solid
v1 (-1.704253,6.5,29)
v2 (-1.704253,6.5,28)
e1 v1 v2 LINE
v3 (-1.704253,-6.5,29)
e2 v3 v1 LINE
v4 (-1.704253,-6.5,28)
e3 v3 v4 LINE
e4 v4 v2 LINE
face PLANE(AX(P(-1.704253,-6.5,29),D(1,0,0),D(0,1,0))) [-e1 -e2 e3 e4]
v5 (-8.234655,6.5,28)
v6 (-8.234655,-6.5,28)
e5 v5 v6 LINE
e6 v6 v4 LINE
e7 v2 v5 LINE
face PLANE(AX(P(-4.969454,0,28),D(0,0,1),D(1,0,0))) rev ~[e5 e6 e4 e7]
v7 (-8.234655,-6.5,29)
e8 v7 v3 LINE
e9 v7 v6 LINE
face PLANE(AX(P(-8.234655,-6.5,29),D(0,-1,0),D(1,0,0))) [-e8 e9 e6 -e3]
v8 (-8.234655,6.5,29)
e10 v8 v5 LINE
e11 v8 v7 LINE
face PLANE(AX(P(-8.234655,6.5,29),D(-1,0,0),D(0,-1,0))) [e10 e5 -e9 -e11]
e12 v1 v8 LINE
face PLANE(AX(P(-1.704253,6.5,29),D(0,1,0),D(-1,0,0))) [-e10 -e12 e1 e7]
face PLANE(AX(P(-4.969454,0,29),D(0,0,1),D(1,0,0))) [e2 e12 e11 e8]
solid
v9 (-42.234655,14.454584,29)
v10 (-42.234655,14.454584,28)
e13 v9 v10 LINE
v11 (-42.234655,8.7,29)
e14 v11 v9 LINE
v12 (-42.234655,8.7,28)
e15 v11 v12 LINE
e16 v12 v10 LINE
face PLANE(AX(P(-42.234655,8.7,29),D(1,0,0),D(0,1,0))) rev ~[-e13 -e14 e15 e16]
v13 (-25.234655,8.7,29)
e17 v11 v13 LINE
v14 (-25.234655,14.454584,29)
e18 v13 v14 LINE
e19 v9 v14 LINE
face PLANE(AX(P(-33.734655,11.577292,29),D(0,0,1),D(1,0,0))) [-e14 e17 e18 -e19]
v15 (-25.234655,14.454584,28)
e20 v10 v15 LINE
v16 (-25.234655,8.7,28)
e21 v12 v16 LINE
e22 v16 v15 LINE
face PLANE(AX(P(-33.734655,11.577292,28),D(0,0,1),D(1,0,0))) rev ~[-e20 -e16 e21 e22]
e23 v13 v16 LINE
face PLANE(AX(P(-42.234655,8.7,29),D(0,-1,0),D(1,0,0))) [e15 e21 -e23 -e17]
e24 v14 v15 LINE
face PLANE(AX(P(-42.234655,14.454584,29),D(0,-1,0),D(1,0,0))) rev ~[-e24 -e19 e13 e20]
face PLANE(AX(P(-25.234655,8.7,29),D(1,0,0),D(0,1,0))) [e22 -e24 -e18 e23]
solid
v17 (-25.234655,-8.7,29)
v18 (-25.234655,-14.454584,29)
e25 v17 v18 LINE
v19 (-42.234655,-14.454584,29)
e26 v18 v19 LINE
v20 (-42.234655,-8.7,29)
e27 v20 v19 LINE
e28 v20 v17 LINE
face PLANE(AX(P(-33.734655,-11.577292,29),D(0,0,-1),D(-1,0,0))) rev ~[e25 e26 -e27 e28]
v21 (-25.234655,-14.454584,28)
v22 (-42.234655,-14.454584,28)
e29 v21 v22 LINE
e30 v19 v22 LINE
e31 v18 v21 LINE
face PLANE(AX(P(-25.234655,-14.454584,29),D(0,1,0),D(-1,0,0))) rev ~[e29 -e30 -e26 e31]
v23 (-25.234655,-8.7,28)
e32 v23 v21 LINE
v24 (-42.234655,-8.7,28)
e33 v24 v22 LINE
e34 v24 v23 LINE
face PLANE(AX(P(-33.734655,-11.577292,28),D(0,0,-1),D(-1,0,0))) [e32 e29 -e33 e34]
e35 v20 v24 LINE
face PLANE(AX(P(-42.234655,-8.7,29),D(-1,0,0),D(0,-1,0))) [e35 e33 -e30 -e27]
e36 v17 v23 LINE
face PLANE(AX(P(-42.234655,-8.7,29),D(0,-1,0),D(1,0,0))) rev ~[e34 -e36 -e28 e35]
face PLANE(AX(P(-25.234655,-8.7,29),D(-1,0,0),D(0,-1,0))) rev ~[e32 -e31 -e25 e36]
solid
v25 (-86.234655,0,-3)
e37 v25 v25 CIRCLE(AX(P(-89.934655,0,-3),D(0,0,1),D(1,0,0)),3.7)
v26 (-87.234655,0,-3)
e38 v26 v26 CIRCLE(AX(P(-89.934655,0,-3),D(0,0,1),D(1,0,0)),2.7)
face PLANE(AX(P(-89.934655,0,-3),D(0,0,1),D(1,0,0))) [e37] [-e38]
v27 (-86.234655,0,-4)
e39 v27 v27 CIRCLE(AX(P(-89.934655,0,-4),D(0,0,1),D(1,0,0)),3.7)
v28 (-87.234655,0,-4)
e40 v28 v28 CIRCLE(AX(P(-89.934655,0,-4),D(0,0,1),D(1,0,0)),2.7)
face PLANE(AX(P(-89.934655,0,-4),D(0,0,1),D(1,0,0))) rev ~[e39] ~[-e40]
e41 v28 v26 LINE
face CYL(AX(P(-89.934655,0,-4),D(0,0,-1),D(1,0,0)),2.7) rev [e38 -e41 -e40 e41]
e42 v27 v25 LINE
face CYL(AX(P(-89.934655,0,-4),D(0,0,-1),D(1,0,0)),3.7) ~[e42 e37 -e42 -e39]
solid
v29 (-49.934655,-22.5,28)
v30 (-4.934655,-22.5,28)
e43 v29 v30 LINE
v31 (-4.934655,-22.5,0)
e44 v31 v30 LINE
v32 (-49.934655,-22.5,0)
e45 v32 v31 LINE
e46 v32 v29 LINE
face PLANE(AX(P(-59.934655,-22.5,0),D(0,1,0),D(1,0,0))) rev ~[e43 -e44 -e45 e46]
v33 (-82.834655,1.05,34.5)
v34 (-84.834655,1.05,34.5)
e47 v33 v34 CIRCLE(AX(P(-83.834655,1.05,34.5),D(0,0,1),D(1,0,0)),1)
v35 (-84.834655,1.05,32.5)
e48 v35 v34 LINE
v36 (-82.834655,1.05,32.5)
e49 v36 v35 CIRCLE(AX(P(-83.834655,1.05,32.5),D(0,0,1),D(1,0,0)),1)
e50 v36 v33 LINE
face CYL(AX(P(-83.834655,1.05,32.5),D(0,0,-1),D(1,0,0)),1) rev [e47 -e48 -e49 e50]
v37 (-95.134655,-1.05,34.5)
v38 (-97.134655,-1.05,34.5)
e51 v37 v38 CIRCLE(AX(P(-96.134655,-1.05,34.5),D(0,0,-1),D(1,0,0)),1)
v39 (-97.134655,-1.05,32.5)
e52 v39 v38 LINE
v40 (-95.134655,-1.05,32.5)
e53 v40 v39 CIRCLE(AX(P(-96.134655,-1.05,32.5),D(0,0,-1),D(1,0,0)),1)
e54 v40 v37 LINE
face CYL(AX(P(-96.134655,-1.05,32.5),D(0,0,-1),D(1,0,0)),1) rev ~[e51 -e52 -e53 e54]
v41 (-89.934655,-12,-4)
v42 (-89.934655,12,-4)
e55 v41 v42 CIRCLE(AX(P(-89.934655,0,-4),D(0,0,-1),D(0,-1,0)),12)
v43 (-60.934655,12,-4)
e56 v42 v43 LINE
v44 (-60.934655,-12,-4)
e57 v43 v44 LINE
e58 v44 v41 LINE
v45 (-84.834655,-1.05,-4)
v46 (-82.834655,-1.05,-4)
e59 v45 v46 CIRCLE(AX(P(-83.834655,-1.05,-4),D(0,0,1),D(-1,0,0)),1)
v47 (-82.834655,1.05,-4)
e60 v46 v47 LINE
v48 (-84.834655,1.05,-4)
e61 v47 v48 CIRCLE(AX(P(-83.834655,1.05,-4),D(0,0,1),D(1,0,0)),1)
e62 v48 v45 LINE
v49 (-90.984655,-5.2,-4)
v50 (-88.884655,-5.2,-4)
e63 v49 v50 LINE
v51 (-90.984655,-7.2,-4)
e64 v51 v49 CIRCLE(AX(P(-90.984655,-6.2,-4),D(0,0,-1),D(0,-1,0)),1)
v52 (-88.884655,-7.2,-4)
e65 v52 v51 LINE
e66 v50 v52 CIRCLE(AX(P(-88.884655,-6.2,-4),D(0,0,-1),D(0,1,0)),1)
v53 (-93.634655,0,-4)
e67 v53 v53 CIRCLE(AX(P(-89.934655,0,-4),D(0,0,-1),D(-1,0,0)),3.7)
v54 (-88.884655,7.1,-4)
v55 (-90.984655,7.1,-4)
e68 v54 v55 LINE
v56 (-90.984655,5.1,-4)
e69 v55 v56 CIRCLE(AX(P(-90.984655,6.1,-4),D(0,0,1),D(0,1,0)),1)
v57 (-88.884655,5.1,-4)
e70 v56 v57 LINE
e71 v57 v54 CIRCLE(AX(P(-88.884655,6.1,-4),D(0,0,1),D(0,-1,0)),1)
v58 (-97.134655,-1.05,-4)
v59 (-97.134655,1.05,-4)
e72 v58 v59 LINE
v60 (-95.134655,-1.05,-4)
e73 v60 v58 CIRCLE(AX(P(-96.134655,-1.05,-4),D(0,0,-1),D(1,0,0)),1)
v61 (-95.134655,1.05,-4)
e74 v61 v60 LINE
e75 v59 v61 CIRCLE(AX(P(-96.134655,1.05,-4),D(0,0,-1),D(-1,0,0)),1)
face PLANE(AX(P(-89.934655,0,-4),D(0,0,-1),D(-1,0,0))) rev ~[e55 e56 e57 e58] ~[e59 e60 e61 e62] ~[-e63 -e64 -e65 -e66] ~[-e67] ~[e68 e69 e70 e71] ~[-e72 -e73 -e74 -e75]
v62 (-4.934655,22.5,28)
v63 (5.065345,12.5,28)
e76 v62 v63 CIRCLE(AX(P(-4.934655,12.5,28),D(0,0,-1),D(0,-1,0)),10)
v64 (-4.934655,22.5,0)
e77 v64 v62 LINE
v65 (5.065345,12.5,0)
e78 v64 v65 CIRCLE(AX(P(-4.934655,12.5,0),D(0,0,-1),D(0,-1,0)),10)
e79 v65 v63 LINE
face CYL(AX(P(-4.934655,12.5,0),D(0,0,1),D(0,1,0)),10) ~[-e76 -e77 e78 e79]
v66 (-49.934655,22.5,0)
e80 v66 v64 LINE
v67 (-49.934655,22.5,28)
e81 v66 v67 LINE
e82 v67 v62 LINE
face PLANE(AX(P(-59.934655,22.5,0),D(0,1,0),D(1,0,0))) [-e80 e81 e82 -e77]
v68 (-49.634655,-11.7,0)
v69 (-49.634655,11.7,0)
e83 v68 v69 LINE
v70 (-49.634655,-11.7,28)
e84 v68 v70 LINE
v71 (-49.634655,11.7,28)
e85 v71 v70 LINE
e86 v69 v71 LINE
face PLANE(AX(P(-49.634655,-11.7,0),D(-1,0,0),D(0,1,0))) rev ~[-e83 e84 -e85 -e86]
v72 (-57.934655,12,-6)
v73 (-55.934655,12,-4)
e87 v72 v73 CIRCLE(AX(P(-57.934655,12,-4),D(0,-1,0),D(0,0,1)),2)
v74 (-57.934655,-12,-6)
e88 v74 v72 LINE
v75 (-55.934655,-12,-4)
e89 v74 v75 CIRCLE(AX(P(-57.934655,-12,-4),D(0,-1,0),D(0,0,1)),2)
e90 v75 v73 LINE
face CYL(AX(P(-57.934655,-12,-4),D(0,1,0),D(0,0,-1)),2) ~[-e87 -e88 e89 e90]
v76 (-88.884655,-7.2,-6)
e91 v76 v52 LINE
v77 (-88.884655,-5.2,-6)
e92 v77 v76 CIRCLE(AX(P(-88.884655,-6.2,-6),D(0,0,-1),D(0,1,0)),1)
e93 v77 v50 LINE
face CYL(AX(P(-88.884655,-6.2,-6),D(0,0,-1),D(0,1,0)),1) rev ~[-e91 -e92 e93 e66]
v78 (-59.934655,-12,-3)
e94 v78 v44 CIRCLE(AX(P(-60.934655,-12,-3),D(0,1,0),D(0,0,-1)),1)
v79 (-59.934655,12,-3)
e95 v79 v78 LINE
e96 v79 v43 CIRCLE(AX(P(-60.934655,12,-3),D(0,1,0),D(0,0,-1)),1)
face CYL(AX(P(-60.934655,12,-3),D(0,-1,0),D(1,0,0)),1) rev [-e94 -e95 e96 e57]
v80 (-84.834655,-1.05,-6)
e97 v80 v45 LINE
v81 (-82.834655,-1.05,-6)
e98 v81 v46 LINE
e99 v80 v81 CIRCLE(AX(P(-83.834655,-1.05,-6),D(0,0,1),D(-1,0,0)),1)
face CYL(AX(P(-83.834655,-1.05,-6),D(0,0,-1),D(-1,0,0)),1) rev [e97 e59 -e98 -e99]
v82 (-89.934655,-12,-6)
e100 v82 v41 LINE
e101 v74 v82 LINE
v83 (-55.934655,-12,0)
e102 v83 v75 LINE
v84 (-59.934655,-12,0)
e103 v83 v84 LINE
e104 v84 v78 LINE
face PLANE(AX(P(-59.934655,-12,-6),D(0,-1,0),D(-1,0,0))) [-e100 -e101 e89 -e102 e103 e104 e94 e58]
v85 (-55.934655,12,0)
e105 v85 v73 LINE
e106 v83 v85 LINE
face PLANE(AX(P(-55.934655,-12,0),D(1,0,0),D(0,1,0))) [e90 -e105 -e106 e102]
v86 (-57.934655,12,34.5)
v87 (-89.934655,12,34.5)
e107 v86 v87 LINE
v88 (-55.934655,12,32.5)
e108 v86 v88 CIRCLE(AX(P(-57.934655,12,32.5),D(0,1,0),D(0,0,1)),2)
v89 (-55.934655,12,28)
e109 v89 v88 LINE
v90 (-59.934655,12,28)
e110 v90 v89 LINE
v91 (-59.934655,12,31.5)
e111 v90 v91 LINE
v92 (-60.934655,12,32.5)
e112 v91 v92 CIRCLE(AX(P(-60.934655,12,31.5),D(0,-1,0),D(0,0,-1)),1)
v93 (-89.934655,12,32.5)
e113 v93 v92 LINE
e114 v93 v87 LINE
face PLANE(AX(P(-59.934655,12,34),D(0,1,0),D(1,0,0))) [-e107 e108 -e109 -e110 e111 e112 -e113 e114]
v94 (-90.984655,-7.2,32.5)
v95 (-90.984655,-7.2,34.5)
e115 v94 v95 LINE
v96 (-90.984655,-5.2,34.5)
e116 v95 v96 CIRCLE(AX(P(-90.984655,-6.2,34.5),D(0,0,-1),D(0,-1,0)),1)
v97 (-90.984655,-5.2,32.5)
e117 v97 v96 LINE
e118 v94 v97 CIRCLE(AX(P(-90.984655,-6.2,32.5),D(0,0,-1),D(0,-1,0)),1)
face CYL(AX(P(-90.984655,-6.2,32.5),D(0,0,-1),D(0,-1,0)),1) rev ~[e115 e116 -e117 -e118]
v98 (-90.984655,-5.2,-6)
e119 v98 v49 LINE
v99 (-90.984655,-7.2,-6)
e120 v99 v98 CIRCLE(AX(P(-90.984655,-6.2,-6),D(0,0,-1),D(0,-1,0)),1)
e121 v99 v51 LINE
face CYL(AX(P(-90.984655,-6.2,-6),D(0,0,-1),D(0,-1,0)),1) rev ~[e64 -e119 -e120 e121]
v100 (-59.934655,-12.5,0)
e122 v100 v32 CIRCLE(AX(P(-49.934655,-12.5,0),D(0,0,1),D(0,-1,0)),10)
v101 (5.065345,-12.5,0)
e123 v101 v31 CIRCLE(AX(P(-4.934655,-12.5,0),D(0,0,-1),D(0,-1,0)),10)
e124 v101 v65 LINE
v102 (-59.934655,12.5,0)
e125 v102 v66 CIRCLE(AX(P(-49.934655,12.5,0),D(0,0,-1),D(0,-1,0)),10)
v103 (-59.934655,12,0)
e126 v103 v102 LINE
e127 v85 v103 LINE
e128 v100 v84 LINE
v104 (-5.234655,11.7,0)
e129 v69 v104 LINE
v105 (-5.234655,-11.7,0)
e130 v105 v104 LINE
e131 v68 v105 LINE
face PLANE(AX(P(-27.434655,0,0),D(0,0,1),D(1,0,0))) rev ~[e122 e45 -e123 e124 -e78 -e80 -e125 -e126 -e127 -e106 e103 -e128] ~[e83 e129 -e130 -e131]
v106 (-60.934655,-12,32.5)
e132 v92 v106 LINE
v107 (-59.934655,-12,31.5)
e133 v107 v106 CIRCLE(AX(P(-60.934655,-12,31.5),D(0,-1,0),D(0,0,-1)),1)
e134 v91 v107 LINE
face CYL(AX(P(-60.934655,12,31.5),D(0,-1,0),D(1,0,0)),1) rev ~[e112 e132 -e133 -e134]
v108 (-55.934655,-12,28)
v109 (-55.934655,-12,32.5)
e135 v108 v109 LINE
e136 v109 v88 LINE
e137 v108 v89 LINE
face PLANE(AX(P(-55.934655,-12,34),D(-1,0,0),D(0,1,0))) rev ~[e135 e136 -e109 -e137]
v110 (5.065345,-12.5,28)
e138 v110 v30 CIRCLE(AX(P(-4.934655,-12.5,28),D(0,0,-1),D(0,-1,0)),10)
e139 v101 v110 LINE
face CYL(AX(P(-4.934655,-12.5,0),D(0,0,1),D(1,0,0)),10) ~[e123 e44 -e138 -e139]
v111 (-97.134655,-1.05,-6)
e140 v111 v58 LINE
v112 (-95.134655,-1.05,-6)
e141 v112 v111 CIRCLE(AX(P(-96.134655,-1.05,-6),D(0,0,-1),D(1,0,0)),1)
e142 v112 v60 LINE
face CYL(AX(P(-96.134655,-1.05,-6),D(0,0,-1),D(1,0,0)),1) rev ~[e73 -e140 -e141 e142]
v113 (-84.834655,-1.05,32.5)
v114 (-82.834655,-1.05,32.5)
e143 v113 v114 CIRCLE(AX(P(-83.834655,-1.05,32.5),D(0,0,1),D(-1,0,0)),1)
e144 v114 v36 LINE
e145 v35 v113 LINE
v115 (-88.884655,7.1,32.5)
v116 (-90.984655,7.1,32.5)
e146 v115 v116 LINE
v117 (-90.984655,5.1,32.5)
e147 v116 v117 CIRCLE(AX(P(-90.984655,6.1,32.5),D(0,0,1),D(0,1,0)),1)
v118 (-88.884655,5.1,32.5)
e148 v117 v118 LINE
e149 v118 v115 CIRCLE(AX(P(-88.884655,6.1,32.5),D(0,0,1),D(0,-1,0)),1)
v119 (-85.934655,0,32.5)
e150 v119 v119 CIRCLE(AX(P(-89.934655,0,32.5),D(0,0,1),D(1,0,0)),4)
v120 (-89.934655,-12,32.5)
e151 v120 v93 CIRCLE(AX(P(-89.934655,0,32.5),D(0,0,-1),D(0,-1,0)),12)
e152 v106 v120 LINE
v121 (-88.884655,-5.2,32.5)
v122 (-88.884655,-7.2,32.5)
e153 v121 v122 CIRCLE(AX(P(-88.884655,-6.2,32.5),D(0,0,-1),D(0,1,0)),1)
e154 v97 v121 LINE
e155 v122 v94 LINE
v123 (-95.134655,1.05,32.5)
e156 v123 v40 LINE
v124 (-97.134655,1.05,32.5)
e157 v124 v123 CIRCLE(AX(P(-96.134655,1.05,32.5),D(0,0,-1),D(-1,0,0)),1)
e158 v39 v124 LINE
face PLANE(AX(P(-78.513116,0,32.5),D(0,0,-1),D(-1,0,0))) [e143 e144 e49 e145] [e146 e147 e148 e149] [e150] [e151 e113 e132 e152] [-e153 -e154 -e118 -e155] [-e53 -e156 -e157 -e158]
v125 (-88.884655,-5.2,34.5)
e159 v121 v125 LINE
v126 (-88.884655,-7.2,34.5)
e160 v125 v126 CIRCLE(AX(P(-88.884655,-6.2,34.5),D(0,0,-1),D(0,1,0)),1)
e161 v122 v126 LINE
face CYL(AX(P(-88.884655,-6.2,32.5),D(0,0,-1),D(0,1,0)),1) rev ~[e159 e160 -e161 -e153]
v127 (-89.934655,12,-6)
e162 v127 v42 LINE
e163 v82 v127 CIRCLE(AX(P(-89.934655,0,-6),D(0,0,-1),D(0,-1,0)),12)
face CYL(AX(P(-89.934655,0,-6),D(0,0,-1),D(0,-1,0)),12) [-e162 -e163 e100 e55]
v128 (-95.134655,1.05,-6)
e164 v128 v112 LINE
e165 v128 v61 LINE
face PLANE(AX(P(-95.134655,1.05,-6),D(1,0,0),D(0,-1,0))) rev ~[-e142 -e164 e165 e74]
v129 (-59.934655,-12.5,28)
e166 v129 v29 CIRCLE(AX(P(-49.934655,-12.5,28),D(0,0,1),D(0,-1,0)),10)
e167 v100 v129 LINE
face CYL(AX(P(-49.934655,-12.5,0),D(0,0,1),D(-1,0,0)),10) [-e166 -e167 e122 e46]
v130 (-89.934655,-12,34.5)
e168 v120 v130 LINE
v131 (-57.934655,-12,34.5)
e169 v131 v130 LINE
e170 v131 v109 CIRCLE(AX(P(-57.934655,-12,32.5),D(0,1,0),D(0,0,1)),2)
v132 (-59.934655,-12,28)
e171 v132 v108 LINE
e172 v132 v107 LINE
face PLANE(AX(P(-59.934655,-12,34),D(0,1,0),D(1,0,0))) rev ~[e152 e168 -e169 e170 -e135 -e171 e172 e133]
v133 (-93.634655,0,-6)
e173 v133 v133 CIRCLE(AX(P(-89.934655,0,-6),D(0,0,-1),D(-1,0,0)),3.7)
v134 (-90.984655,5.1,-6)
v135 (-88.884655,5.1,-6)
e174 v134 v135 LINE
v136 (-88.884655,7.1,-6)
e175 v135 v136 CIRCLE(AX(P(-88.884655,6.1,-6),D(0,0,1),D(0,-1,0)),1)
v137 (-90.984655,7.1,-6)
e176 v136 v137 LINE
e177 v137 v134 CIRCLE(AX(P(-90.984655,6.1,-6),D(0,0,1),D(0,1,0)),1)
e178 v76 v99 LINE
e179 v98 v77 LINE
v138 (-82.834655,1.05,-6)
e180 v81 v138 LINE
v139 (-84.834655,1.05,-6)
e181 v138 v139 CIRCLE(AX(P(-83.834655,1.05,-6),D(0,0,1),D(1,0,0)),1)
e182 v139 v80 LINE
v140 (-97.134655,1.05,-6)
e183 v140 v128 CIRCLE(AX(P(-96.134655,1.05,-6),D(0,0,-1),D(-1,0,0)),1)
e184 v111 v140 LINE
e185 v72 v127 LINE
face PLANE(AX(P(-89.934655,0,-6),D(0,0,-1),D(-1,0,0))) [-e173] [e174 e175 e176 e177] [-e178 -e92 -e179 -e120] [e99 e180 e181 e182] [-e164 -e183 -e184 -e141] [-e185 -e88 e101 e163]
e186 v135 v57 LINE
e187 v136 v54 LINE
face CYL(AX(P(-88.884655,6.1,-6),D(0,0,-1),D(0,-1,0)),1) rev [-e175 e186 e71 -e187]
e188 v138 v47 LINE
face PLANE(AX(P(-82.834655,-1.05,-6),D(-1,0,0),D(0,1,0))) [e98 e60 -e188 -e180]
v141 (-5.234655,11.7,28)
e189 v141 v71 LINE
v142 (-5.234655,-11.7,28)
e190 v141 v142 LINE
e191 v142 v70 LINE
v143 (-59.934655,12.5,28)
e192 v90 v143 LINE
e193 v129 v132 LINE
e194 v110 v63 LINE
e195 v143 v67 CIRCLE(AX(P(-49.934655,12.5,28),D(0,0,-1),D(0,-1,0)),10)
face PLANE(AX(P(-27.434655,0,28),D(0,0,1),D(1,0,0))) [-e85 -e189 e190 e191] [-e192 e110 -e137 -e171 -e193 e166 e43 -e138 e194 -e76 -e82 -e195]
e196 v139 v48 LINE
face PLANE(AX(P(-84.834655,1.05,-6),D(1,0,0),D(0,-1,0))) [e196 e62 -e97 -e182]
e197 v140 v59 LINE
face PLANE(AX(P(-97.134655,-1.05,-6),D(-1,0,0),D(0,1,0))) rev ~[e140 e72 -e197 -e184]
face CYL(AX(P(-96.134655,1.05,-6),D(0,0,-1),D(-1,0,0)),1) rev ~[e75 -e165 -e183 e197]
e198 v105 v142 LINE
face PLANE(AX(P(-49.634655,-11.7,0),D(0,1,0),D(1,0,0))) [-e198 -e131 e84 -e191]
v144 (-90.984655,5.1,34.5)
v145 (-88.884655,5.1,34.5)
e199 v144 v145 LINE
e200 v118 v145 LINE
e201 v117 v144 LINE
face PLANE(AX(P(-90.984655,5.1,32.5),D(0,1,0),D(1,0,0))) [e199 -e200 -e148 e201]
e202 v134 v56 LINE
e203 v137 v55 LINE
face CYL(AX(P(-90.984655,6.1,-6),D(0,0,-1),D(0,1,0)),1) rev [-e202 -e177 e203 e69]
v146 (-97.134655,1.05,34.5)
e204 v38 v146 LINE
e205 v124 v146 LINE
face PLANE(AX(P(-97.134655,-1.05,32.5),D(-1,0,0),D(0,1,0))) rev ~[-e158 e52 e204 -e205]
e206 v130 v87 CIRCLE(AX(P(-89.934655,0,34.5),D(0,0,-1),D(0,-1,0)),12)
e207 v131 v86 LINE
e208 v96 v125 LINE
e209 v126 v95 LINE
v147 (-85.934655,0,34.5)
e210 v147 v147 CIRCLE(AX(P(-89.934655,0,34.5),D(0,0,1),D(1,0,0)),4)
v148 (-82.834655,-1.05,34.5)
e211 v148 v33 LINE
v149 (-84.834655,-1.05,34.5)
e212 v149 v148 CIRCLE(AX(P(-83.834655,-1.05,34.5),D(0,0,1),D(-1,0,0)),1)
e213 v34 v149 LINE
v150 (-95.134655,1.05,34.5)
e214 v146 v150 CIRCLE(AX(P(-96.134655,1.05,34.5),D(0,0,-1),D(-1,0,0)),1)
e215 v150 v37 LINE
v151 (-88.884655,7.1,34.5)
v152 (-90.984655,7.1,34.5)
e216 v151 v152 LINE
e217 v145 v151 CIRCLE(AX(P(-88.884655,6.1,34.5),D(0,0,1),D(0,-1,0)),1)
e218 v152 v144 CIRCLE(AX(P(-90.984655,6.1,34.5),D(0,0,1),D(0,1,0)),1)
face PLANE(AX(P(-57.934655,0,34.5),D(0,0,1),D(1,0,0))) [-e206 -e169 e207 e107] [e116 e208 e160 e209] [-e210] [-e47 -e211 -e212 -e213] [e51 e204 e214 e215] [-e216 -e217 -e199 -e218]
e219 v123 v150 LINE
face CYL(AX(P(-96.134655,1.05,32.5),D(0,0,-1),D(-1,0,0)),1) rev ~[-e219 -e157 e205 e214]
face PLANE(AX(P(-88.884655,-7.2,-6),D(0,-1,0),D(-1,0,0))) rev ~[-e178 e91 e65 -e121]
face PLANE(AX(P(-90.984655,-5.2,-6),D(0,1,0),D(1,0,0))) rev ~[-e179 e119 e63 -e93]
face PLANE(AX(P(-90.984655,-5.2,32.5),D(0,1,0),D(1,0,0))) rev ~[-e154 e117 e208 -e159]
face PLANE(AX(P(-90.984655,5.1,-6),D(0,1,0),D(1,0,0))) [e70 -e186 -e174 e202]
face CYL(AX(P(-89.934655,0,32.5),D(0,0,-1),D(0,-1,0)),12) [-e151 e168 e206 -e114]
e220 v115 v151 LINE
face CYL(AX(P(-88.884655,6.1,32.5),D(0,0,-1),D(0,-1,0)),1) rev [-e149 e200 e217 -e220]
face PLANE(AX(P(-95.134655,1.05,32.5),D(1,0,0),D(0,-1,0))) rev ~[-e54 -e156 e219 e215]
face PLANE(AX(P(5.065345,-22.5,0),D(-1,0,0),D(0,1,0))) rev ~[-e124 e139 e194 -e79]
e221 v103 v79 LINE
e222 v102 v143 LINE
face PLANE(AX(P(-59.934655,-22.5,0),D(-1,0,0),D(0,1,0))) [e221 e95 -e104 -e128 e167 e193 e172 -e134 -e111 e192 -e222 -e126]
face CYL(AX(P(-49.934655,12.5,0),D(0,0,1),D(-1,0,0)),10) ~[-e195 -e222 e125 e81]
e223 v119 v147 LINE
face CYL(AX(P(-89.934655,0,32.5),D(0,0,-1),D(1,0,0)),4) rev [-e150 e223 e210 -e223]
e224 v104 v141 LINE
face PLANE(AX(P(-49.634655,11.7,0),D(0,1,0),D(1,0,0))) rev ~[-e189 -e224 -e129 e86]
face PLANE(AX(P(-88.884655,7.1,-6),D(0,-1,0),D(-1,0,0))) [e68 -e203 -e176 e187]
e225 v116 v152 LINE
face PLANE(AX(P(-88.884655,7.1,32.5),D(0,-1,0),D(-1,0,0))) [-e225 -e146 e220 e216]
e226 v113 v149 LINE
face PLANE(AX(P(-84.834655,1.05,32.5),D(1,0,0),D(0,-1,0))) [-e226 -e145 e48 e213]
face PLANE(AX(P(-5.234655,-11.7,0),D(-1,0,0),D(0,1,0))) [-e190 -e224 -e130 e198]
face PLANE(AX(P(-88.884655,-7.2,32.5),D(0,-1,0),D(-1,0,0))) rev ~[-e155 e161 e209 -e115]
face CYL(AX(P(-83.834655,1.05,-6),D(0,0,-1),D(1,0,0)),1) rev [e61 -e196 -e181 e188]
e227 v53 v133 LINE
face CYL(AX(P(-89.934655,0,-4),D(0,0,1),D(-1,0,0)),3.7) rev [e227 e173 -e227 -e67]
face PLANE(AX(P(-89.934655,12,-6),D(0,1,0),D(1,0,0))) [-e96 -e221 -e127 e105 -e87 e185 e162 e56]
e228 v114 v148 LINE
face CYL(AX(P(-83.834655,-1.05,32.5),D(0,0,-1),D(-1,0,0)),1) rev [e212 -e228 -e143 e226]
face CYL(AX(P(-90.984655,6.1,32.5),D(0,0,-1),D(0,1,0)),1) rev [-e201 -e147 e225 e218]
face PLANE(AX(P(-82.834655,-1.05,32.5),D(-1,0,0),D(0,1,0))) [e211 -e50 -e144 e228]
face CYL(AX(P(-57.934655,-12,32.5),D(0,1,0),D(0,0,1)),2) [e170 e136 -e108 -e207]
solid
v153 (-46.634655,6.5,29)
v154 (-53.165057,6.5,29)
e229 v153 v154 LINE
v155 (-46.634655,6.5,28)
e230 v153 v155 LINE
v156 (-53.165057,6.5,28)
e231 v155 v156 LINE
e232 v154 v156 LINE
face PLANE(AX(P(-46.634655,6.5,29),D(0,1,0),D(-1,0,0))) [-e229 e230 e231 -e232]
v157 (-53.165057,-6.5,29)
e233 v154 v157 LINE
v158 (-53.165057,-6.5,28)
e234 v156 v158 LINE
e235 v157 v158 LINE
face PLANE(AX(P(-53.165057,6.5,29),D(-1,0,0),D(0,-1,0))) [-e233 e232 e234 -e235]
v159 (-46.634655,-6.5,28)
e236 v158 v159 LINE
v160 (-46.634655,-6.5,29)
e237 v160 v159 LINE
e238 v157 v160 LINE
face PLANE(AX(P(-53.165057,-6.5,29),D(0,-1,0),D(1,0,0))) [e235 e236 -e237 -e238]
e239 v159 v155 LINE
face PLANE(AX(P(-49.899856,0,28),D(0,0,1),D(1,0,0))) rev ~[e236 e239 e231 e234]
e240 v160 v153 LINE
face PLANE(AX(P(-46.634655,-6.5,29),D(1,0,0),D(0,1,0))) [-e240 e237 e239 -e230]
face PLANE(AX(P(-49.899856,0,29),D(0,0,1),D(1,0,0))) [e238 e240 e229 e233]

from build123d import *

# Parameters (mm, degrees)
SKETCH_1_W             = 65
SKETCH_1_H             = 45
EXTRUDE_1_DEPTH        = 28
SKETCH_2_W             = 44.4
SKETCH_2_H             = 23.4
CUT_EXTRUDE_1_DEPTH    = 39
SKETCH_3_W             = 4
SKETCH_3_H             = 24
EXTRUDE_2_DEPTH        = 6
EXTRUDE_START          = -0.5
SKETCH_7_R             = 4
EXTRUDE_3_DEPTH        = 2
SKETCH_8_W             = 4
SKETCH_8_H             = 24
EXTRUDE_4_DEPTH        = 6
FILLET_1_R             = 10
FILLET_2_R             = 10
FILLET_3_R             = 10
FILLET_4_R             = 10
PATTERN_LINEAR_2_COUNT = 2
PATTERN_LINEAR_2_PITCH = 38.5
FILLET_5_R             = 2
SKETCH_9_R             = 3.7
SKETCH_9_R_2           = 2.7
EXTRUDE_5_DEPTH        = 1
EXTRUDE_6_DEPTH        = 1
EXTRUDE_6_2_DEPTH      = 1
EXTRUDE_6_3_DEPTH      = 1
SKETCH_10_W            = 17
SKETCH_10_H            = 5.754584259
EXTRUDE_6_4_DEPTH      = 1
SKETCH_12_R            = 4
SKETCH_12_R_2          = 3.7
EXTRUDE_8_DEPTH        = 2
SKETCH_15_W            = 4
SKETCH_15_H            = 24
EXTRUDE_10_DEPTH       = 0.5
FILLET_16_R            = 2
FILLET_17_R            = 1
FILLET_18_R            = 1


with BuildPart() as part:
    # 草圖1 → 填料-伸長1 (new body)
    with BuildSketch(Plane.XY):
        with Locations((-27.434655272, 0)):
            Rectangle(SKETCH_1_W, SKETCH_1_H)
    extrude(amount=EXTRUDE_1_DEPTH)

    # 草圖2 → 除料-伸長1 (cut)
    with BuildSketch(Plane.XY):
        with Locations((-27.434655272, 0)):
            Rectangle(SKETCH_2_W, SKETCH_2_H)
    extrude(amount=CUT_EXTRUDE_1_DEPTH, mode=Mode.SUBTRACT)

    # 草圖3 → 填料-伸長2 (add)
    with BuildSketch(Plane.XY.offset(28)):
        with Locations((-57.934655272, 0)):
            Rectangle(SKETCH_3_W, SKETCH_3_H)
    extrude(amount=EXTRUDE_2_DEPTH)

    # 草圖7 → 填料-伸長3 (add)
    with BuildSketch(Plane.XY.offset(33).offset(EXTRUDE_START)):
        with BuildLine():
            Line((-59.934655272, 12), (-59.934655272, -12))
            Line((-59.934655272, -12), (-89.934655272, -12))
            ThreePointArc((-89.934655272, -12), (-101.934655272, 0), (-89.934655272, 12))
            Line((-89.934655272, 12), (-59.934655272, 12))
        make_face()
        with Locations((-89.934655272, 0)):
            Circle(SKETCH_7_R, mode=Mode.SUBTRACT)
        with BuildLine():
            Line((-95.134655272, 1.05), (-95.134655272, -1.05))
            ThreePointArc((-95.134655272, -1.05), (-96.134655272, -2.05), (-97.134655272, -1.05))
            Line((-97.134655272, -1.05), (-97.134655272, 1.05))
            ThreePointArc((-97.134655272, 1.05), (-96.134655272, 2.05), (-95.134655272, 1.05))
        make_face(mode=Mode.SUBTRACT)
        with BuildLine():
            Line((-90.984655272, -5.2), (-88.884655272, -5.2))
            ThreePointArc((-88.884655272, -5.2), (-87.884655272, -6.2), (-88.884655272, -7.2))
            Line((-88.884655272, -7.2), (-90.984655272, -7.2))
            ThreePointArc((-90.984655272, -7.2), (-91.984655272, -6.2), (-90.984655272, -5.2))
        make_face(mode=Mode.SUBTRACT)
        with BuildLine():
            Line((-90.984655272, 5.1), (-88.884655272, 5.1))
            ThreePointArc((-88.884655272, 5.1), (-87.884655272, 6.1), (-88.884655272, 7.1))
            Line((-88.884655272, 7.1), (-90.984655272, 7.1))
            ThreePointArc((-90.984655272, 7.1), (-91.984655272, 6.1), (-90.984655272, 5.1))
        make_face(mode=Mode.SUBTRACT)
        with BuildLine():
            Line((-84.834655272, 1.05), (-84.834655272, -1.05))
            ThreePointArc((-84.834655272, -1.05), (-83.834655272, -2.05), (-82.834655272, -1.05))
            Line((-82.834655272, -1.05), (-82.834655272, 1.05))
            ThreePointArc((-82.834655272, 1.05), (-83.834655272, 2.05), (-84.834655272, 1.05))
        make_face(mode=Mode.SUBTRACT)
    extrude_3 = extrude(amount=EXTRUDE_3_DEPTH)

    # 草圖8 → 填料-伸長4 (add)
    with BuildSketch(Plane(origin=(0, 0, 0), x_dir=(-1, 0, 0), z_dir=(0, 0, -1))):
        with Locations((57.934655272, 0)):
            Rectangle(SKETCH_8_W, SKETCH_8_H)
    extrude(amount=EXTRUDE_4_DEPTH)

    # 圓角1
    fillet_1_edges = [part.edges().sort_by_distance(p)[0] for p in [
        (-59.934655272, -22.5, 14),
    ]]
    fillet(fillet_1_edges, radius=FILLET_1_R)

    # 圓角2
    fillet_2_edges = [part.edges().sort_by_distance(p)[0] for p in [
        (-59.934655272, 22.5, 14),
    ]]
    fillet(fillet_2_edges, radius=FILLET_2_R)

    # 圓角3
    fillet_3_edges = [part.edges().sort_by_distance(p)[0] for p in [
        (5.065344728, 22.5, 14),
    ]]
    fillet(fillet_3_edges, radius=FILLET_3_R)

    # 圓角4
    fillet_4_edges = [part.edges().sort_by_distance(p)[0] for p in [
        (5.065344728, -22.5, 14),
    ]]
    fillet(fillet_4_edges, radius=FILLET_4_R)

    # 直線複製排列2: 填料-伸長3 ×2
    with Locations(*[(0, 0, -i * PATTERN_LINEAR_2_PITCH) for i in range(1, PATTERN_LINEAR_2_COUNT)]):
        add(extrude_3)

    # 圓角5
    fillet_5_edges = [part.edges().sort_by_distance(p)[0] for p in [
        (-55.934655272, 0, -6),
    ]]
    fillet(fillet_5_edges, radius=FILLET_5_R)

    # 草圖12 → 填料-伸長8 (add)
    with BuildSketch(Plane(origin=(0, 0, -4), x_dir=(-1, 0, 0), z_dir=(0, 0, -1))):
        with Locations((89.934655272, 0)):
            Circle(SKETCH_12_R)
        with Locations((89.934655272, 0)):
            Circle(SKETCH_12_R_2, mode=Mode.SUBTRACT)
    extrude(amount=EXTRUDE_8_DEPTH)

    # 草圖15 → 填料-伸長10 (add)
    with BuildSketch(Plane.XY.offset(34)):
        with Locations((-57.934655272, 0)):
            Rectangle(SKETCH_15_W, SKETCH_15_H)
    extrude(amount=EXTRUDE_10_DEPTH)

    # 圓角16
    fillet_16_edges = [part.edges().sort_by_distance(p)[0] for p in [
        (-55.934655272, 0, 34.5),
    ]]
    fillet(fillet_16_edges, radius=FILLET_16_R)

    # 圓角17
    fillet_17_edges = [part.edges().sort_by_distance(p)[0] for p in [
        (-59.934655272, 0, 32.5),
    ]]
    fillet(fillet_17_edges, radius=FILLET_17_R)

    # 圓角18
    fillet_18_edges = [part.edges().sort_by_distance(p)[0] for p in [
        (-59.934655272, 0, -4),
    ]]
    fillet(fillet_18_edges, radius=FILLET_18_R)


with BuildPart() as body_2:
    # 草圖9 → 填料-伸長5 (new body)
    with BuildSketch(Plane.XY.offset(-4)):
        with Locations((-89.934655272, 0)):
            Circle(SKETCH_9_R)
        with Locations((-89.934655272, 0)):
            Circle(SKETCH_9_R_2, mode=Mode.SUBTRACT)
    extrude(amount=EXTRUDE_5_DEPTH)


with BuildPart() as body_3:
    # 草圖10 → 填料-伸長6 (new body)
    with BuildSketch(Plane.XY.offset(29)):
        Polygon((-49.634655272, 6.5), (-53.165057103, 6.5), (-53.165057103, -6.5), (-46.634655272, -6.5), (-46.634655272, 6.5), align=None)
    extrude(amount=-EXTRUDE_6_DEPTH)


with BuildPart() as body_4:
    # 草圖10 → Extrude 6 2 (new body)
    with BuildSketch(Plane.XY.offset(29)):
        Polygon((-42.234655272, -11.7), (-42.234655272, -8.7), (-25.234655272, -8.7), (-25.234655272, -14.454584259), (-42.234655272, -14.454584259), align=None)
    extrude(amount=-EXTRUDE_6_2_DEPTH)


with BuildPart() as body_5:
    # 草圖10 → Extrude 6 3 (new body)
    with BuildSketch(Plane.XY.offset(29)):
        Polygon((-8.234655272, 6.5), (-8.234655272, -6.5), (-5.234655272, -6.5), (-1.70425344, -6.5), (-1.70425344, 6.5), align=None)
    extrude(amount=-EXTRUDE_6_3_DEPTH)


with BuildPart() as body_6:
    # 草圖10 → Extrude 6 4 (new body)
    with BuildSketch(Plane.XY.offset(29)):
        with Locations((-33.734655272, 11.57729213)):
            Rectangle(SKETCH_10_W, SKETCH_10_H)
    extrude(amount=-EXTRUDE_6_4_DEPTH)


solid = Compound([part.part, body_2.part, body_3.part, body_4.part, body_5.part, body_6.part])
